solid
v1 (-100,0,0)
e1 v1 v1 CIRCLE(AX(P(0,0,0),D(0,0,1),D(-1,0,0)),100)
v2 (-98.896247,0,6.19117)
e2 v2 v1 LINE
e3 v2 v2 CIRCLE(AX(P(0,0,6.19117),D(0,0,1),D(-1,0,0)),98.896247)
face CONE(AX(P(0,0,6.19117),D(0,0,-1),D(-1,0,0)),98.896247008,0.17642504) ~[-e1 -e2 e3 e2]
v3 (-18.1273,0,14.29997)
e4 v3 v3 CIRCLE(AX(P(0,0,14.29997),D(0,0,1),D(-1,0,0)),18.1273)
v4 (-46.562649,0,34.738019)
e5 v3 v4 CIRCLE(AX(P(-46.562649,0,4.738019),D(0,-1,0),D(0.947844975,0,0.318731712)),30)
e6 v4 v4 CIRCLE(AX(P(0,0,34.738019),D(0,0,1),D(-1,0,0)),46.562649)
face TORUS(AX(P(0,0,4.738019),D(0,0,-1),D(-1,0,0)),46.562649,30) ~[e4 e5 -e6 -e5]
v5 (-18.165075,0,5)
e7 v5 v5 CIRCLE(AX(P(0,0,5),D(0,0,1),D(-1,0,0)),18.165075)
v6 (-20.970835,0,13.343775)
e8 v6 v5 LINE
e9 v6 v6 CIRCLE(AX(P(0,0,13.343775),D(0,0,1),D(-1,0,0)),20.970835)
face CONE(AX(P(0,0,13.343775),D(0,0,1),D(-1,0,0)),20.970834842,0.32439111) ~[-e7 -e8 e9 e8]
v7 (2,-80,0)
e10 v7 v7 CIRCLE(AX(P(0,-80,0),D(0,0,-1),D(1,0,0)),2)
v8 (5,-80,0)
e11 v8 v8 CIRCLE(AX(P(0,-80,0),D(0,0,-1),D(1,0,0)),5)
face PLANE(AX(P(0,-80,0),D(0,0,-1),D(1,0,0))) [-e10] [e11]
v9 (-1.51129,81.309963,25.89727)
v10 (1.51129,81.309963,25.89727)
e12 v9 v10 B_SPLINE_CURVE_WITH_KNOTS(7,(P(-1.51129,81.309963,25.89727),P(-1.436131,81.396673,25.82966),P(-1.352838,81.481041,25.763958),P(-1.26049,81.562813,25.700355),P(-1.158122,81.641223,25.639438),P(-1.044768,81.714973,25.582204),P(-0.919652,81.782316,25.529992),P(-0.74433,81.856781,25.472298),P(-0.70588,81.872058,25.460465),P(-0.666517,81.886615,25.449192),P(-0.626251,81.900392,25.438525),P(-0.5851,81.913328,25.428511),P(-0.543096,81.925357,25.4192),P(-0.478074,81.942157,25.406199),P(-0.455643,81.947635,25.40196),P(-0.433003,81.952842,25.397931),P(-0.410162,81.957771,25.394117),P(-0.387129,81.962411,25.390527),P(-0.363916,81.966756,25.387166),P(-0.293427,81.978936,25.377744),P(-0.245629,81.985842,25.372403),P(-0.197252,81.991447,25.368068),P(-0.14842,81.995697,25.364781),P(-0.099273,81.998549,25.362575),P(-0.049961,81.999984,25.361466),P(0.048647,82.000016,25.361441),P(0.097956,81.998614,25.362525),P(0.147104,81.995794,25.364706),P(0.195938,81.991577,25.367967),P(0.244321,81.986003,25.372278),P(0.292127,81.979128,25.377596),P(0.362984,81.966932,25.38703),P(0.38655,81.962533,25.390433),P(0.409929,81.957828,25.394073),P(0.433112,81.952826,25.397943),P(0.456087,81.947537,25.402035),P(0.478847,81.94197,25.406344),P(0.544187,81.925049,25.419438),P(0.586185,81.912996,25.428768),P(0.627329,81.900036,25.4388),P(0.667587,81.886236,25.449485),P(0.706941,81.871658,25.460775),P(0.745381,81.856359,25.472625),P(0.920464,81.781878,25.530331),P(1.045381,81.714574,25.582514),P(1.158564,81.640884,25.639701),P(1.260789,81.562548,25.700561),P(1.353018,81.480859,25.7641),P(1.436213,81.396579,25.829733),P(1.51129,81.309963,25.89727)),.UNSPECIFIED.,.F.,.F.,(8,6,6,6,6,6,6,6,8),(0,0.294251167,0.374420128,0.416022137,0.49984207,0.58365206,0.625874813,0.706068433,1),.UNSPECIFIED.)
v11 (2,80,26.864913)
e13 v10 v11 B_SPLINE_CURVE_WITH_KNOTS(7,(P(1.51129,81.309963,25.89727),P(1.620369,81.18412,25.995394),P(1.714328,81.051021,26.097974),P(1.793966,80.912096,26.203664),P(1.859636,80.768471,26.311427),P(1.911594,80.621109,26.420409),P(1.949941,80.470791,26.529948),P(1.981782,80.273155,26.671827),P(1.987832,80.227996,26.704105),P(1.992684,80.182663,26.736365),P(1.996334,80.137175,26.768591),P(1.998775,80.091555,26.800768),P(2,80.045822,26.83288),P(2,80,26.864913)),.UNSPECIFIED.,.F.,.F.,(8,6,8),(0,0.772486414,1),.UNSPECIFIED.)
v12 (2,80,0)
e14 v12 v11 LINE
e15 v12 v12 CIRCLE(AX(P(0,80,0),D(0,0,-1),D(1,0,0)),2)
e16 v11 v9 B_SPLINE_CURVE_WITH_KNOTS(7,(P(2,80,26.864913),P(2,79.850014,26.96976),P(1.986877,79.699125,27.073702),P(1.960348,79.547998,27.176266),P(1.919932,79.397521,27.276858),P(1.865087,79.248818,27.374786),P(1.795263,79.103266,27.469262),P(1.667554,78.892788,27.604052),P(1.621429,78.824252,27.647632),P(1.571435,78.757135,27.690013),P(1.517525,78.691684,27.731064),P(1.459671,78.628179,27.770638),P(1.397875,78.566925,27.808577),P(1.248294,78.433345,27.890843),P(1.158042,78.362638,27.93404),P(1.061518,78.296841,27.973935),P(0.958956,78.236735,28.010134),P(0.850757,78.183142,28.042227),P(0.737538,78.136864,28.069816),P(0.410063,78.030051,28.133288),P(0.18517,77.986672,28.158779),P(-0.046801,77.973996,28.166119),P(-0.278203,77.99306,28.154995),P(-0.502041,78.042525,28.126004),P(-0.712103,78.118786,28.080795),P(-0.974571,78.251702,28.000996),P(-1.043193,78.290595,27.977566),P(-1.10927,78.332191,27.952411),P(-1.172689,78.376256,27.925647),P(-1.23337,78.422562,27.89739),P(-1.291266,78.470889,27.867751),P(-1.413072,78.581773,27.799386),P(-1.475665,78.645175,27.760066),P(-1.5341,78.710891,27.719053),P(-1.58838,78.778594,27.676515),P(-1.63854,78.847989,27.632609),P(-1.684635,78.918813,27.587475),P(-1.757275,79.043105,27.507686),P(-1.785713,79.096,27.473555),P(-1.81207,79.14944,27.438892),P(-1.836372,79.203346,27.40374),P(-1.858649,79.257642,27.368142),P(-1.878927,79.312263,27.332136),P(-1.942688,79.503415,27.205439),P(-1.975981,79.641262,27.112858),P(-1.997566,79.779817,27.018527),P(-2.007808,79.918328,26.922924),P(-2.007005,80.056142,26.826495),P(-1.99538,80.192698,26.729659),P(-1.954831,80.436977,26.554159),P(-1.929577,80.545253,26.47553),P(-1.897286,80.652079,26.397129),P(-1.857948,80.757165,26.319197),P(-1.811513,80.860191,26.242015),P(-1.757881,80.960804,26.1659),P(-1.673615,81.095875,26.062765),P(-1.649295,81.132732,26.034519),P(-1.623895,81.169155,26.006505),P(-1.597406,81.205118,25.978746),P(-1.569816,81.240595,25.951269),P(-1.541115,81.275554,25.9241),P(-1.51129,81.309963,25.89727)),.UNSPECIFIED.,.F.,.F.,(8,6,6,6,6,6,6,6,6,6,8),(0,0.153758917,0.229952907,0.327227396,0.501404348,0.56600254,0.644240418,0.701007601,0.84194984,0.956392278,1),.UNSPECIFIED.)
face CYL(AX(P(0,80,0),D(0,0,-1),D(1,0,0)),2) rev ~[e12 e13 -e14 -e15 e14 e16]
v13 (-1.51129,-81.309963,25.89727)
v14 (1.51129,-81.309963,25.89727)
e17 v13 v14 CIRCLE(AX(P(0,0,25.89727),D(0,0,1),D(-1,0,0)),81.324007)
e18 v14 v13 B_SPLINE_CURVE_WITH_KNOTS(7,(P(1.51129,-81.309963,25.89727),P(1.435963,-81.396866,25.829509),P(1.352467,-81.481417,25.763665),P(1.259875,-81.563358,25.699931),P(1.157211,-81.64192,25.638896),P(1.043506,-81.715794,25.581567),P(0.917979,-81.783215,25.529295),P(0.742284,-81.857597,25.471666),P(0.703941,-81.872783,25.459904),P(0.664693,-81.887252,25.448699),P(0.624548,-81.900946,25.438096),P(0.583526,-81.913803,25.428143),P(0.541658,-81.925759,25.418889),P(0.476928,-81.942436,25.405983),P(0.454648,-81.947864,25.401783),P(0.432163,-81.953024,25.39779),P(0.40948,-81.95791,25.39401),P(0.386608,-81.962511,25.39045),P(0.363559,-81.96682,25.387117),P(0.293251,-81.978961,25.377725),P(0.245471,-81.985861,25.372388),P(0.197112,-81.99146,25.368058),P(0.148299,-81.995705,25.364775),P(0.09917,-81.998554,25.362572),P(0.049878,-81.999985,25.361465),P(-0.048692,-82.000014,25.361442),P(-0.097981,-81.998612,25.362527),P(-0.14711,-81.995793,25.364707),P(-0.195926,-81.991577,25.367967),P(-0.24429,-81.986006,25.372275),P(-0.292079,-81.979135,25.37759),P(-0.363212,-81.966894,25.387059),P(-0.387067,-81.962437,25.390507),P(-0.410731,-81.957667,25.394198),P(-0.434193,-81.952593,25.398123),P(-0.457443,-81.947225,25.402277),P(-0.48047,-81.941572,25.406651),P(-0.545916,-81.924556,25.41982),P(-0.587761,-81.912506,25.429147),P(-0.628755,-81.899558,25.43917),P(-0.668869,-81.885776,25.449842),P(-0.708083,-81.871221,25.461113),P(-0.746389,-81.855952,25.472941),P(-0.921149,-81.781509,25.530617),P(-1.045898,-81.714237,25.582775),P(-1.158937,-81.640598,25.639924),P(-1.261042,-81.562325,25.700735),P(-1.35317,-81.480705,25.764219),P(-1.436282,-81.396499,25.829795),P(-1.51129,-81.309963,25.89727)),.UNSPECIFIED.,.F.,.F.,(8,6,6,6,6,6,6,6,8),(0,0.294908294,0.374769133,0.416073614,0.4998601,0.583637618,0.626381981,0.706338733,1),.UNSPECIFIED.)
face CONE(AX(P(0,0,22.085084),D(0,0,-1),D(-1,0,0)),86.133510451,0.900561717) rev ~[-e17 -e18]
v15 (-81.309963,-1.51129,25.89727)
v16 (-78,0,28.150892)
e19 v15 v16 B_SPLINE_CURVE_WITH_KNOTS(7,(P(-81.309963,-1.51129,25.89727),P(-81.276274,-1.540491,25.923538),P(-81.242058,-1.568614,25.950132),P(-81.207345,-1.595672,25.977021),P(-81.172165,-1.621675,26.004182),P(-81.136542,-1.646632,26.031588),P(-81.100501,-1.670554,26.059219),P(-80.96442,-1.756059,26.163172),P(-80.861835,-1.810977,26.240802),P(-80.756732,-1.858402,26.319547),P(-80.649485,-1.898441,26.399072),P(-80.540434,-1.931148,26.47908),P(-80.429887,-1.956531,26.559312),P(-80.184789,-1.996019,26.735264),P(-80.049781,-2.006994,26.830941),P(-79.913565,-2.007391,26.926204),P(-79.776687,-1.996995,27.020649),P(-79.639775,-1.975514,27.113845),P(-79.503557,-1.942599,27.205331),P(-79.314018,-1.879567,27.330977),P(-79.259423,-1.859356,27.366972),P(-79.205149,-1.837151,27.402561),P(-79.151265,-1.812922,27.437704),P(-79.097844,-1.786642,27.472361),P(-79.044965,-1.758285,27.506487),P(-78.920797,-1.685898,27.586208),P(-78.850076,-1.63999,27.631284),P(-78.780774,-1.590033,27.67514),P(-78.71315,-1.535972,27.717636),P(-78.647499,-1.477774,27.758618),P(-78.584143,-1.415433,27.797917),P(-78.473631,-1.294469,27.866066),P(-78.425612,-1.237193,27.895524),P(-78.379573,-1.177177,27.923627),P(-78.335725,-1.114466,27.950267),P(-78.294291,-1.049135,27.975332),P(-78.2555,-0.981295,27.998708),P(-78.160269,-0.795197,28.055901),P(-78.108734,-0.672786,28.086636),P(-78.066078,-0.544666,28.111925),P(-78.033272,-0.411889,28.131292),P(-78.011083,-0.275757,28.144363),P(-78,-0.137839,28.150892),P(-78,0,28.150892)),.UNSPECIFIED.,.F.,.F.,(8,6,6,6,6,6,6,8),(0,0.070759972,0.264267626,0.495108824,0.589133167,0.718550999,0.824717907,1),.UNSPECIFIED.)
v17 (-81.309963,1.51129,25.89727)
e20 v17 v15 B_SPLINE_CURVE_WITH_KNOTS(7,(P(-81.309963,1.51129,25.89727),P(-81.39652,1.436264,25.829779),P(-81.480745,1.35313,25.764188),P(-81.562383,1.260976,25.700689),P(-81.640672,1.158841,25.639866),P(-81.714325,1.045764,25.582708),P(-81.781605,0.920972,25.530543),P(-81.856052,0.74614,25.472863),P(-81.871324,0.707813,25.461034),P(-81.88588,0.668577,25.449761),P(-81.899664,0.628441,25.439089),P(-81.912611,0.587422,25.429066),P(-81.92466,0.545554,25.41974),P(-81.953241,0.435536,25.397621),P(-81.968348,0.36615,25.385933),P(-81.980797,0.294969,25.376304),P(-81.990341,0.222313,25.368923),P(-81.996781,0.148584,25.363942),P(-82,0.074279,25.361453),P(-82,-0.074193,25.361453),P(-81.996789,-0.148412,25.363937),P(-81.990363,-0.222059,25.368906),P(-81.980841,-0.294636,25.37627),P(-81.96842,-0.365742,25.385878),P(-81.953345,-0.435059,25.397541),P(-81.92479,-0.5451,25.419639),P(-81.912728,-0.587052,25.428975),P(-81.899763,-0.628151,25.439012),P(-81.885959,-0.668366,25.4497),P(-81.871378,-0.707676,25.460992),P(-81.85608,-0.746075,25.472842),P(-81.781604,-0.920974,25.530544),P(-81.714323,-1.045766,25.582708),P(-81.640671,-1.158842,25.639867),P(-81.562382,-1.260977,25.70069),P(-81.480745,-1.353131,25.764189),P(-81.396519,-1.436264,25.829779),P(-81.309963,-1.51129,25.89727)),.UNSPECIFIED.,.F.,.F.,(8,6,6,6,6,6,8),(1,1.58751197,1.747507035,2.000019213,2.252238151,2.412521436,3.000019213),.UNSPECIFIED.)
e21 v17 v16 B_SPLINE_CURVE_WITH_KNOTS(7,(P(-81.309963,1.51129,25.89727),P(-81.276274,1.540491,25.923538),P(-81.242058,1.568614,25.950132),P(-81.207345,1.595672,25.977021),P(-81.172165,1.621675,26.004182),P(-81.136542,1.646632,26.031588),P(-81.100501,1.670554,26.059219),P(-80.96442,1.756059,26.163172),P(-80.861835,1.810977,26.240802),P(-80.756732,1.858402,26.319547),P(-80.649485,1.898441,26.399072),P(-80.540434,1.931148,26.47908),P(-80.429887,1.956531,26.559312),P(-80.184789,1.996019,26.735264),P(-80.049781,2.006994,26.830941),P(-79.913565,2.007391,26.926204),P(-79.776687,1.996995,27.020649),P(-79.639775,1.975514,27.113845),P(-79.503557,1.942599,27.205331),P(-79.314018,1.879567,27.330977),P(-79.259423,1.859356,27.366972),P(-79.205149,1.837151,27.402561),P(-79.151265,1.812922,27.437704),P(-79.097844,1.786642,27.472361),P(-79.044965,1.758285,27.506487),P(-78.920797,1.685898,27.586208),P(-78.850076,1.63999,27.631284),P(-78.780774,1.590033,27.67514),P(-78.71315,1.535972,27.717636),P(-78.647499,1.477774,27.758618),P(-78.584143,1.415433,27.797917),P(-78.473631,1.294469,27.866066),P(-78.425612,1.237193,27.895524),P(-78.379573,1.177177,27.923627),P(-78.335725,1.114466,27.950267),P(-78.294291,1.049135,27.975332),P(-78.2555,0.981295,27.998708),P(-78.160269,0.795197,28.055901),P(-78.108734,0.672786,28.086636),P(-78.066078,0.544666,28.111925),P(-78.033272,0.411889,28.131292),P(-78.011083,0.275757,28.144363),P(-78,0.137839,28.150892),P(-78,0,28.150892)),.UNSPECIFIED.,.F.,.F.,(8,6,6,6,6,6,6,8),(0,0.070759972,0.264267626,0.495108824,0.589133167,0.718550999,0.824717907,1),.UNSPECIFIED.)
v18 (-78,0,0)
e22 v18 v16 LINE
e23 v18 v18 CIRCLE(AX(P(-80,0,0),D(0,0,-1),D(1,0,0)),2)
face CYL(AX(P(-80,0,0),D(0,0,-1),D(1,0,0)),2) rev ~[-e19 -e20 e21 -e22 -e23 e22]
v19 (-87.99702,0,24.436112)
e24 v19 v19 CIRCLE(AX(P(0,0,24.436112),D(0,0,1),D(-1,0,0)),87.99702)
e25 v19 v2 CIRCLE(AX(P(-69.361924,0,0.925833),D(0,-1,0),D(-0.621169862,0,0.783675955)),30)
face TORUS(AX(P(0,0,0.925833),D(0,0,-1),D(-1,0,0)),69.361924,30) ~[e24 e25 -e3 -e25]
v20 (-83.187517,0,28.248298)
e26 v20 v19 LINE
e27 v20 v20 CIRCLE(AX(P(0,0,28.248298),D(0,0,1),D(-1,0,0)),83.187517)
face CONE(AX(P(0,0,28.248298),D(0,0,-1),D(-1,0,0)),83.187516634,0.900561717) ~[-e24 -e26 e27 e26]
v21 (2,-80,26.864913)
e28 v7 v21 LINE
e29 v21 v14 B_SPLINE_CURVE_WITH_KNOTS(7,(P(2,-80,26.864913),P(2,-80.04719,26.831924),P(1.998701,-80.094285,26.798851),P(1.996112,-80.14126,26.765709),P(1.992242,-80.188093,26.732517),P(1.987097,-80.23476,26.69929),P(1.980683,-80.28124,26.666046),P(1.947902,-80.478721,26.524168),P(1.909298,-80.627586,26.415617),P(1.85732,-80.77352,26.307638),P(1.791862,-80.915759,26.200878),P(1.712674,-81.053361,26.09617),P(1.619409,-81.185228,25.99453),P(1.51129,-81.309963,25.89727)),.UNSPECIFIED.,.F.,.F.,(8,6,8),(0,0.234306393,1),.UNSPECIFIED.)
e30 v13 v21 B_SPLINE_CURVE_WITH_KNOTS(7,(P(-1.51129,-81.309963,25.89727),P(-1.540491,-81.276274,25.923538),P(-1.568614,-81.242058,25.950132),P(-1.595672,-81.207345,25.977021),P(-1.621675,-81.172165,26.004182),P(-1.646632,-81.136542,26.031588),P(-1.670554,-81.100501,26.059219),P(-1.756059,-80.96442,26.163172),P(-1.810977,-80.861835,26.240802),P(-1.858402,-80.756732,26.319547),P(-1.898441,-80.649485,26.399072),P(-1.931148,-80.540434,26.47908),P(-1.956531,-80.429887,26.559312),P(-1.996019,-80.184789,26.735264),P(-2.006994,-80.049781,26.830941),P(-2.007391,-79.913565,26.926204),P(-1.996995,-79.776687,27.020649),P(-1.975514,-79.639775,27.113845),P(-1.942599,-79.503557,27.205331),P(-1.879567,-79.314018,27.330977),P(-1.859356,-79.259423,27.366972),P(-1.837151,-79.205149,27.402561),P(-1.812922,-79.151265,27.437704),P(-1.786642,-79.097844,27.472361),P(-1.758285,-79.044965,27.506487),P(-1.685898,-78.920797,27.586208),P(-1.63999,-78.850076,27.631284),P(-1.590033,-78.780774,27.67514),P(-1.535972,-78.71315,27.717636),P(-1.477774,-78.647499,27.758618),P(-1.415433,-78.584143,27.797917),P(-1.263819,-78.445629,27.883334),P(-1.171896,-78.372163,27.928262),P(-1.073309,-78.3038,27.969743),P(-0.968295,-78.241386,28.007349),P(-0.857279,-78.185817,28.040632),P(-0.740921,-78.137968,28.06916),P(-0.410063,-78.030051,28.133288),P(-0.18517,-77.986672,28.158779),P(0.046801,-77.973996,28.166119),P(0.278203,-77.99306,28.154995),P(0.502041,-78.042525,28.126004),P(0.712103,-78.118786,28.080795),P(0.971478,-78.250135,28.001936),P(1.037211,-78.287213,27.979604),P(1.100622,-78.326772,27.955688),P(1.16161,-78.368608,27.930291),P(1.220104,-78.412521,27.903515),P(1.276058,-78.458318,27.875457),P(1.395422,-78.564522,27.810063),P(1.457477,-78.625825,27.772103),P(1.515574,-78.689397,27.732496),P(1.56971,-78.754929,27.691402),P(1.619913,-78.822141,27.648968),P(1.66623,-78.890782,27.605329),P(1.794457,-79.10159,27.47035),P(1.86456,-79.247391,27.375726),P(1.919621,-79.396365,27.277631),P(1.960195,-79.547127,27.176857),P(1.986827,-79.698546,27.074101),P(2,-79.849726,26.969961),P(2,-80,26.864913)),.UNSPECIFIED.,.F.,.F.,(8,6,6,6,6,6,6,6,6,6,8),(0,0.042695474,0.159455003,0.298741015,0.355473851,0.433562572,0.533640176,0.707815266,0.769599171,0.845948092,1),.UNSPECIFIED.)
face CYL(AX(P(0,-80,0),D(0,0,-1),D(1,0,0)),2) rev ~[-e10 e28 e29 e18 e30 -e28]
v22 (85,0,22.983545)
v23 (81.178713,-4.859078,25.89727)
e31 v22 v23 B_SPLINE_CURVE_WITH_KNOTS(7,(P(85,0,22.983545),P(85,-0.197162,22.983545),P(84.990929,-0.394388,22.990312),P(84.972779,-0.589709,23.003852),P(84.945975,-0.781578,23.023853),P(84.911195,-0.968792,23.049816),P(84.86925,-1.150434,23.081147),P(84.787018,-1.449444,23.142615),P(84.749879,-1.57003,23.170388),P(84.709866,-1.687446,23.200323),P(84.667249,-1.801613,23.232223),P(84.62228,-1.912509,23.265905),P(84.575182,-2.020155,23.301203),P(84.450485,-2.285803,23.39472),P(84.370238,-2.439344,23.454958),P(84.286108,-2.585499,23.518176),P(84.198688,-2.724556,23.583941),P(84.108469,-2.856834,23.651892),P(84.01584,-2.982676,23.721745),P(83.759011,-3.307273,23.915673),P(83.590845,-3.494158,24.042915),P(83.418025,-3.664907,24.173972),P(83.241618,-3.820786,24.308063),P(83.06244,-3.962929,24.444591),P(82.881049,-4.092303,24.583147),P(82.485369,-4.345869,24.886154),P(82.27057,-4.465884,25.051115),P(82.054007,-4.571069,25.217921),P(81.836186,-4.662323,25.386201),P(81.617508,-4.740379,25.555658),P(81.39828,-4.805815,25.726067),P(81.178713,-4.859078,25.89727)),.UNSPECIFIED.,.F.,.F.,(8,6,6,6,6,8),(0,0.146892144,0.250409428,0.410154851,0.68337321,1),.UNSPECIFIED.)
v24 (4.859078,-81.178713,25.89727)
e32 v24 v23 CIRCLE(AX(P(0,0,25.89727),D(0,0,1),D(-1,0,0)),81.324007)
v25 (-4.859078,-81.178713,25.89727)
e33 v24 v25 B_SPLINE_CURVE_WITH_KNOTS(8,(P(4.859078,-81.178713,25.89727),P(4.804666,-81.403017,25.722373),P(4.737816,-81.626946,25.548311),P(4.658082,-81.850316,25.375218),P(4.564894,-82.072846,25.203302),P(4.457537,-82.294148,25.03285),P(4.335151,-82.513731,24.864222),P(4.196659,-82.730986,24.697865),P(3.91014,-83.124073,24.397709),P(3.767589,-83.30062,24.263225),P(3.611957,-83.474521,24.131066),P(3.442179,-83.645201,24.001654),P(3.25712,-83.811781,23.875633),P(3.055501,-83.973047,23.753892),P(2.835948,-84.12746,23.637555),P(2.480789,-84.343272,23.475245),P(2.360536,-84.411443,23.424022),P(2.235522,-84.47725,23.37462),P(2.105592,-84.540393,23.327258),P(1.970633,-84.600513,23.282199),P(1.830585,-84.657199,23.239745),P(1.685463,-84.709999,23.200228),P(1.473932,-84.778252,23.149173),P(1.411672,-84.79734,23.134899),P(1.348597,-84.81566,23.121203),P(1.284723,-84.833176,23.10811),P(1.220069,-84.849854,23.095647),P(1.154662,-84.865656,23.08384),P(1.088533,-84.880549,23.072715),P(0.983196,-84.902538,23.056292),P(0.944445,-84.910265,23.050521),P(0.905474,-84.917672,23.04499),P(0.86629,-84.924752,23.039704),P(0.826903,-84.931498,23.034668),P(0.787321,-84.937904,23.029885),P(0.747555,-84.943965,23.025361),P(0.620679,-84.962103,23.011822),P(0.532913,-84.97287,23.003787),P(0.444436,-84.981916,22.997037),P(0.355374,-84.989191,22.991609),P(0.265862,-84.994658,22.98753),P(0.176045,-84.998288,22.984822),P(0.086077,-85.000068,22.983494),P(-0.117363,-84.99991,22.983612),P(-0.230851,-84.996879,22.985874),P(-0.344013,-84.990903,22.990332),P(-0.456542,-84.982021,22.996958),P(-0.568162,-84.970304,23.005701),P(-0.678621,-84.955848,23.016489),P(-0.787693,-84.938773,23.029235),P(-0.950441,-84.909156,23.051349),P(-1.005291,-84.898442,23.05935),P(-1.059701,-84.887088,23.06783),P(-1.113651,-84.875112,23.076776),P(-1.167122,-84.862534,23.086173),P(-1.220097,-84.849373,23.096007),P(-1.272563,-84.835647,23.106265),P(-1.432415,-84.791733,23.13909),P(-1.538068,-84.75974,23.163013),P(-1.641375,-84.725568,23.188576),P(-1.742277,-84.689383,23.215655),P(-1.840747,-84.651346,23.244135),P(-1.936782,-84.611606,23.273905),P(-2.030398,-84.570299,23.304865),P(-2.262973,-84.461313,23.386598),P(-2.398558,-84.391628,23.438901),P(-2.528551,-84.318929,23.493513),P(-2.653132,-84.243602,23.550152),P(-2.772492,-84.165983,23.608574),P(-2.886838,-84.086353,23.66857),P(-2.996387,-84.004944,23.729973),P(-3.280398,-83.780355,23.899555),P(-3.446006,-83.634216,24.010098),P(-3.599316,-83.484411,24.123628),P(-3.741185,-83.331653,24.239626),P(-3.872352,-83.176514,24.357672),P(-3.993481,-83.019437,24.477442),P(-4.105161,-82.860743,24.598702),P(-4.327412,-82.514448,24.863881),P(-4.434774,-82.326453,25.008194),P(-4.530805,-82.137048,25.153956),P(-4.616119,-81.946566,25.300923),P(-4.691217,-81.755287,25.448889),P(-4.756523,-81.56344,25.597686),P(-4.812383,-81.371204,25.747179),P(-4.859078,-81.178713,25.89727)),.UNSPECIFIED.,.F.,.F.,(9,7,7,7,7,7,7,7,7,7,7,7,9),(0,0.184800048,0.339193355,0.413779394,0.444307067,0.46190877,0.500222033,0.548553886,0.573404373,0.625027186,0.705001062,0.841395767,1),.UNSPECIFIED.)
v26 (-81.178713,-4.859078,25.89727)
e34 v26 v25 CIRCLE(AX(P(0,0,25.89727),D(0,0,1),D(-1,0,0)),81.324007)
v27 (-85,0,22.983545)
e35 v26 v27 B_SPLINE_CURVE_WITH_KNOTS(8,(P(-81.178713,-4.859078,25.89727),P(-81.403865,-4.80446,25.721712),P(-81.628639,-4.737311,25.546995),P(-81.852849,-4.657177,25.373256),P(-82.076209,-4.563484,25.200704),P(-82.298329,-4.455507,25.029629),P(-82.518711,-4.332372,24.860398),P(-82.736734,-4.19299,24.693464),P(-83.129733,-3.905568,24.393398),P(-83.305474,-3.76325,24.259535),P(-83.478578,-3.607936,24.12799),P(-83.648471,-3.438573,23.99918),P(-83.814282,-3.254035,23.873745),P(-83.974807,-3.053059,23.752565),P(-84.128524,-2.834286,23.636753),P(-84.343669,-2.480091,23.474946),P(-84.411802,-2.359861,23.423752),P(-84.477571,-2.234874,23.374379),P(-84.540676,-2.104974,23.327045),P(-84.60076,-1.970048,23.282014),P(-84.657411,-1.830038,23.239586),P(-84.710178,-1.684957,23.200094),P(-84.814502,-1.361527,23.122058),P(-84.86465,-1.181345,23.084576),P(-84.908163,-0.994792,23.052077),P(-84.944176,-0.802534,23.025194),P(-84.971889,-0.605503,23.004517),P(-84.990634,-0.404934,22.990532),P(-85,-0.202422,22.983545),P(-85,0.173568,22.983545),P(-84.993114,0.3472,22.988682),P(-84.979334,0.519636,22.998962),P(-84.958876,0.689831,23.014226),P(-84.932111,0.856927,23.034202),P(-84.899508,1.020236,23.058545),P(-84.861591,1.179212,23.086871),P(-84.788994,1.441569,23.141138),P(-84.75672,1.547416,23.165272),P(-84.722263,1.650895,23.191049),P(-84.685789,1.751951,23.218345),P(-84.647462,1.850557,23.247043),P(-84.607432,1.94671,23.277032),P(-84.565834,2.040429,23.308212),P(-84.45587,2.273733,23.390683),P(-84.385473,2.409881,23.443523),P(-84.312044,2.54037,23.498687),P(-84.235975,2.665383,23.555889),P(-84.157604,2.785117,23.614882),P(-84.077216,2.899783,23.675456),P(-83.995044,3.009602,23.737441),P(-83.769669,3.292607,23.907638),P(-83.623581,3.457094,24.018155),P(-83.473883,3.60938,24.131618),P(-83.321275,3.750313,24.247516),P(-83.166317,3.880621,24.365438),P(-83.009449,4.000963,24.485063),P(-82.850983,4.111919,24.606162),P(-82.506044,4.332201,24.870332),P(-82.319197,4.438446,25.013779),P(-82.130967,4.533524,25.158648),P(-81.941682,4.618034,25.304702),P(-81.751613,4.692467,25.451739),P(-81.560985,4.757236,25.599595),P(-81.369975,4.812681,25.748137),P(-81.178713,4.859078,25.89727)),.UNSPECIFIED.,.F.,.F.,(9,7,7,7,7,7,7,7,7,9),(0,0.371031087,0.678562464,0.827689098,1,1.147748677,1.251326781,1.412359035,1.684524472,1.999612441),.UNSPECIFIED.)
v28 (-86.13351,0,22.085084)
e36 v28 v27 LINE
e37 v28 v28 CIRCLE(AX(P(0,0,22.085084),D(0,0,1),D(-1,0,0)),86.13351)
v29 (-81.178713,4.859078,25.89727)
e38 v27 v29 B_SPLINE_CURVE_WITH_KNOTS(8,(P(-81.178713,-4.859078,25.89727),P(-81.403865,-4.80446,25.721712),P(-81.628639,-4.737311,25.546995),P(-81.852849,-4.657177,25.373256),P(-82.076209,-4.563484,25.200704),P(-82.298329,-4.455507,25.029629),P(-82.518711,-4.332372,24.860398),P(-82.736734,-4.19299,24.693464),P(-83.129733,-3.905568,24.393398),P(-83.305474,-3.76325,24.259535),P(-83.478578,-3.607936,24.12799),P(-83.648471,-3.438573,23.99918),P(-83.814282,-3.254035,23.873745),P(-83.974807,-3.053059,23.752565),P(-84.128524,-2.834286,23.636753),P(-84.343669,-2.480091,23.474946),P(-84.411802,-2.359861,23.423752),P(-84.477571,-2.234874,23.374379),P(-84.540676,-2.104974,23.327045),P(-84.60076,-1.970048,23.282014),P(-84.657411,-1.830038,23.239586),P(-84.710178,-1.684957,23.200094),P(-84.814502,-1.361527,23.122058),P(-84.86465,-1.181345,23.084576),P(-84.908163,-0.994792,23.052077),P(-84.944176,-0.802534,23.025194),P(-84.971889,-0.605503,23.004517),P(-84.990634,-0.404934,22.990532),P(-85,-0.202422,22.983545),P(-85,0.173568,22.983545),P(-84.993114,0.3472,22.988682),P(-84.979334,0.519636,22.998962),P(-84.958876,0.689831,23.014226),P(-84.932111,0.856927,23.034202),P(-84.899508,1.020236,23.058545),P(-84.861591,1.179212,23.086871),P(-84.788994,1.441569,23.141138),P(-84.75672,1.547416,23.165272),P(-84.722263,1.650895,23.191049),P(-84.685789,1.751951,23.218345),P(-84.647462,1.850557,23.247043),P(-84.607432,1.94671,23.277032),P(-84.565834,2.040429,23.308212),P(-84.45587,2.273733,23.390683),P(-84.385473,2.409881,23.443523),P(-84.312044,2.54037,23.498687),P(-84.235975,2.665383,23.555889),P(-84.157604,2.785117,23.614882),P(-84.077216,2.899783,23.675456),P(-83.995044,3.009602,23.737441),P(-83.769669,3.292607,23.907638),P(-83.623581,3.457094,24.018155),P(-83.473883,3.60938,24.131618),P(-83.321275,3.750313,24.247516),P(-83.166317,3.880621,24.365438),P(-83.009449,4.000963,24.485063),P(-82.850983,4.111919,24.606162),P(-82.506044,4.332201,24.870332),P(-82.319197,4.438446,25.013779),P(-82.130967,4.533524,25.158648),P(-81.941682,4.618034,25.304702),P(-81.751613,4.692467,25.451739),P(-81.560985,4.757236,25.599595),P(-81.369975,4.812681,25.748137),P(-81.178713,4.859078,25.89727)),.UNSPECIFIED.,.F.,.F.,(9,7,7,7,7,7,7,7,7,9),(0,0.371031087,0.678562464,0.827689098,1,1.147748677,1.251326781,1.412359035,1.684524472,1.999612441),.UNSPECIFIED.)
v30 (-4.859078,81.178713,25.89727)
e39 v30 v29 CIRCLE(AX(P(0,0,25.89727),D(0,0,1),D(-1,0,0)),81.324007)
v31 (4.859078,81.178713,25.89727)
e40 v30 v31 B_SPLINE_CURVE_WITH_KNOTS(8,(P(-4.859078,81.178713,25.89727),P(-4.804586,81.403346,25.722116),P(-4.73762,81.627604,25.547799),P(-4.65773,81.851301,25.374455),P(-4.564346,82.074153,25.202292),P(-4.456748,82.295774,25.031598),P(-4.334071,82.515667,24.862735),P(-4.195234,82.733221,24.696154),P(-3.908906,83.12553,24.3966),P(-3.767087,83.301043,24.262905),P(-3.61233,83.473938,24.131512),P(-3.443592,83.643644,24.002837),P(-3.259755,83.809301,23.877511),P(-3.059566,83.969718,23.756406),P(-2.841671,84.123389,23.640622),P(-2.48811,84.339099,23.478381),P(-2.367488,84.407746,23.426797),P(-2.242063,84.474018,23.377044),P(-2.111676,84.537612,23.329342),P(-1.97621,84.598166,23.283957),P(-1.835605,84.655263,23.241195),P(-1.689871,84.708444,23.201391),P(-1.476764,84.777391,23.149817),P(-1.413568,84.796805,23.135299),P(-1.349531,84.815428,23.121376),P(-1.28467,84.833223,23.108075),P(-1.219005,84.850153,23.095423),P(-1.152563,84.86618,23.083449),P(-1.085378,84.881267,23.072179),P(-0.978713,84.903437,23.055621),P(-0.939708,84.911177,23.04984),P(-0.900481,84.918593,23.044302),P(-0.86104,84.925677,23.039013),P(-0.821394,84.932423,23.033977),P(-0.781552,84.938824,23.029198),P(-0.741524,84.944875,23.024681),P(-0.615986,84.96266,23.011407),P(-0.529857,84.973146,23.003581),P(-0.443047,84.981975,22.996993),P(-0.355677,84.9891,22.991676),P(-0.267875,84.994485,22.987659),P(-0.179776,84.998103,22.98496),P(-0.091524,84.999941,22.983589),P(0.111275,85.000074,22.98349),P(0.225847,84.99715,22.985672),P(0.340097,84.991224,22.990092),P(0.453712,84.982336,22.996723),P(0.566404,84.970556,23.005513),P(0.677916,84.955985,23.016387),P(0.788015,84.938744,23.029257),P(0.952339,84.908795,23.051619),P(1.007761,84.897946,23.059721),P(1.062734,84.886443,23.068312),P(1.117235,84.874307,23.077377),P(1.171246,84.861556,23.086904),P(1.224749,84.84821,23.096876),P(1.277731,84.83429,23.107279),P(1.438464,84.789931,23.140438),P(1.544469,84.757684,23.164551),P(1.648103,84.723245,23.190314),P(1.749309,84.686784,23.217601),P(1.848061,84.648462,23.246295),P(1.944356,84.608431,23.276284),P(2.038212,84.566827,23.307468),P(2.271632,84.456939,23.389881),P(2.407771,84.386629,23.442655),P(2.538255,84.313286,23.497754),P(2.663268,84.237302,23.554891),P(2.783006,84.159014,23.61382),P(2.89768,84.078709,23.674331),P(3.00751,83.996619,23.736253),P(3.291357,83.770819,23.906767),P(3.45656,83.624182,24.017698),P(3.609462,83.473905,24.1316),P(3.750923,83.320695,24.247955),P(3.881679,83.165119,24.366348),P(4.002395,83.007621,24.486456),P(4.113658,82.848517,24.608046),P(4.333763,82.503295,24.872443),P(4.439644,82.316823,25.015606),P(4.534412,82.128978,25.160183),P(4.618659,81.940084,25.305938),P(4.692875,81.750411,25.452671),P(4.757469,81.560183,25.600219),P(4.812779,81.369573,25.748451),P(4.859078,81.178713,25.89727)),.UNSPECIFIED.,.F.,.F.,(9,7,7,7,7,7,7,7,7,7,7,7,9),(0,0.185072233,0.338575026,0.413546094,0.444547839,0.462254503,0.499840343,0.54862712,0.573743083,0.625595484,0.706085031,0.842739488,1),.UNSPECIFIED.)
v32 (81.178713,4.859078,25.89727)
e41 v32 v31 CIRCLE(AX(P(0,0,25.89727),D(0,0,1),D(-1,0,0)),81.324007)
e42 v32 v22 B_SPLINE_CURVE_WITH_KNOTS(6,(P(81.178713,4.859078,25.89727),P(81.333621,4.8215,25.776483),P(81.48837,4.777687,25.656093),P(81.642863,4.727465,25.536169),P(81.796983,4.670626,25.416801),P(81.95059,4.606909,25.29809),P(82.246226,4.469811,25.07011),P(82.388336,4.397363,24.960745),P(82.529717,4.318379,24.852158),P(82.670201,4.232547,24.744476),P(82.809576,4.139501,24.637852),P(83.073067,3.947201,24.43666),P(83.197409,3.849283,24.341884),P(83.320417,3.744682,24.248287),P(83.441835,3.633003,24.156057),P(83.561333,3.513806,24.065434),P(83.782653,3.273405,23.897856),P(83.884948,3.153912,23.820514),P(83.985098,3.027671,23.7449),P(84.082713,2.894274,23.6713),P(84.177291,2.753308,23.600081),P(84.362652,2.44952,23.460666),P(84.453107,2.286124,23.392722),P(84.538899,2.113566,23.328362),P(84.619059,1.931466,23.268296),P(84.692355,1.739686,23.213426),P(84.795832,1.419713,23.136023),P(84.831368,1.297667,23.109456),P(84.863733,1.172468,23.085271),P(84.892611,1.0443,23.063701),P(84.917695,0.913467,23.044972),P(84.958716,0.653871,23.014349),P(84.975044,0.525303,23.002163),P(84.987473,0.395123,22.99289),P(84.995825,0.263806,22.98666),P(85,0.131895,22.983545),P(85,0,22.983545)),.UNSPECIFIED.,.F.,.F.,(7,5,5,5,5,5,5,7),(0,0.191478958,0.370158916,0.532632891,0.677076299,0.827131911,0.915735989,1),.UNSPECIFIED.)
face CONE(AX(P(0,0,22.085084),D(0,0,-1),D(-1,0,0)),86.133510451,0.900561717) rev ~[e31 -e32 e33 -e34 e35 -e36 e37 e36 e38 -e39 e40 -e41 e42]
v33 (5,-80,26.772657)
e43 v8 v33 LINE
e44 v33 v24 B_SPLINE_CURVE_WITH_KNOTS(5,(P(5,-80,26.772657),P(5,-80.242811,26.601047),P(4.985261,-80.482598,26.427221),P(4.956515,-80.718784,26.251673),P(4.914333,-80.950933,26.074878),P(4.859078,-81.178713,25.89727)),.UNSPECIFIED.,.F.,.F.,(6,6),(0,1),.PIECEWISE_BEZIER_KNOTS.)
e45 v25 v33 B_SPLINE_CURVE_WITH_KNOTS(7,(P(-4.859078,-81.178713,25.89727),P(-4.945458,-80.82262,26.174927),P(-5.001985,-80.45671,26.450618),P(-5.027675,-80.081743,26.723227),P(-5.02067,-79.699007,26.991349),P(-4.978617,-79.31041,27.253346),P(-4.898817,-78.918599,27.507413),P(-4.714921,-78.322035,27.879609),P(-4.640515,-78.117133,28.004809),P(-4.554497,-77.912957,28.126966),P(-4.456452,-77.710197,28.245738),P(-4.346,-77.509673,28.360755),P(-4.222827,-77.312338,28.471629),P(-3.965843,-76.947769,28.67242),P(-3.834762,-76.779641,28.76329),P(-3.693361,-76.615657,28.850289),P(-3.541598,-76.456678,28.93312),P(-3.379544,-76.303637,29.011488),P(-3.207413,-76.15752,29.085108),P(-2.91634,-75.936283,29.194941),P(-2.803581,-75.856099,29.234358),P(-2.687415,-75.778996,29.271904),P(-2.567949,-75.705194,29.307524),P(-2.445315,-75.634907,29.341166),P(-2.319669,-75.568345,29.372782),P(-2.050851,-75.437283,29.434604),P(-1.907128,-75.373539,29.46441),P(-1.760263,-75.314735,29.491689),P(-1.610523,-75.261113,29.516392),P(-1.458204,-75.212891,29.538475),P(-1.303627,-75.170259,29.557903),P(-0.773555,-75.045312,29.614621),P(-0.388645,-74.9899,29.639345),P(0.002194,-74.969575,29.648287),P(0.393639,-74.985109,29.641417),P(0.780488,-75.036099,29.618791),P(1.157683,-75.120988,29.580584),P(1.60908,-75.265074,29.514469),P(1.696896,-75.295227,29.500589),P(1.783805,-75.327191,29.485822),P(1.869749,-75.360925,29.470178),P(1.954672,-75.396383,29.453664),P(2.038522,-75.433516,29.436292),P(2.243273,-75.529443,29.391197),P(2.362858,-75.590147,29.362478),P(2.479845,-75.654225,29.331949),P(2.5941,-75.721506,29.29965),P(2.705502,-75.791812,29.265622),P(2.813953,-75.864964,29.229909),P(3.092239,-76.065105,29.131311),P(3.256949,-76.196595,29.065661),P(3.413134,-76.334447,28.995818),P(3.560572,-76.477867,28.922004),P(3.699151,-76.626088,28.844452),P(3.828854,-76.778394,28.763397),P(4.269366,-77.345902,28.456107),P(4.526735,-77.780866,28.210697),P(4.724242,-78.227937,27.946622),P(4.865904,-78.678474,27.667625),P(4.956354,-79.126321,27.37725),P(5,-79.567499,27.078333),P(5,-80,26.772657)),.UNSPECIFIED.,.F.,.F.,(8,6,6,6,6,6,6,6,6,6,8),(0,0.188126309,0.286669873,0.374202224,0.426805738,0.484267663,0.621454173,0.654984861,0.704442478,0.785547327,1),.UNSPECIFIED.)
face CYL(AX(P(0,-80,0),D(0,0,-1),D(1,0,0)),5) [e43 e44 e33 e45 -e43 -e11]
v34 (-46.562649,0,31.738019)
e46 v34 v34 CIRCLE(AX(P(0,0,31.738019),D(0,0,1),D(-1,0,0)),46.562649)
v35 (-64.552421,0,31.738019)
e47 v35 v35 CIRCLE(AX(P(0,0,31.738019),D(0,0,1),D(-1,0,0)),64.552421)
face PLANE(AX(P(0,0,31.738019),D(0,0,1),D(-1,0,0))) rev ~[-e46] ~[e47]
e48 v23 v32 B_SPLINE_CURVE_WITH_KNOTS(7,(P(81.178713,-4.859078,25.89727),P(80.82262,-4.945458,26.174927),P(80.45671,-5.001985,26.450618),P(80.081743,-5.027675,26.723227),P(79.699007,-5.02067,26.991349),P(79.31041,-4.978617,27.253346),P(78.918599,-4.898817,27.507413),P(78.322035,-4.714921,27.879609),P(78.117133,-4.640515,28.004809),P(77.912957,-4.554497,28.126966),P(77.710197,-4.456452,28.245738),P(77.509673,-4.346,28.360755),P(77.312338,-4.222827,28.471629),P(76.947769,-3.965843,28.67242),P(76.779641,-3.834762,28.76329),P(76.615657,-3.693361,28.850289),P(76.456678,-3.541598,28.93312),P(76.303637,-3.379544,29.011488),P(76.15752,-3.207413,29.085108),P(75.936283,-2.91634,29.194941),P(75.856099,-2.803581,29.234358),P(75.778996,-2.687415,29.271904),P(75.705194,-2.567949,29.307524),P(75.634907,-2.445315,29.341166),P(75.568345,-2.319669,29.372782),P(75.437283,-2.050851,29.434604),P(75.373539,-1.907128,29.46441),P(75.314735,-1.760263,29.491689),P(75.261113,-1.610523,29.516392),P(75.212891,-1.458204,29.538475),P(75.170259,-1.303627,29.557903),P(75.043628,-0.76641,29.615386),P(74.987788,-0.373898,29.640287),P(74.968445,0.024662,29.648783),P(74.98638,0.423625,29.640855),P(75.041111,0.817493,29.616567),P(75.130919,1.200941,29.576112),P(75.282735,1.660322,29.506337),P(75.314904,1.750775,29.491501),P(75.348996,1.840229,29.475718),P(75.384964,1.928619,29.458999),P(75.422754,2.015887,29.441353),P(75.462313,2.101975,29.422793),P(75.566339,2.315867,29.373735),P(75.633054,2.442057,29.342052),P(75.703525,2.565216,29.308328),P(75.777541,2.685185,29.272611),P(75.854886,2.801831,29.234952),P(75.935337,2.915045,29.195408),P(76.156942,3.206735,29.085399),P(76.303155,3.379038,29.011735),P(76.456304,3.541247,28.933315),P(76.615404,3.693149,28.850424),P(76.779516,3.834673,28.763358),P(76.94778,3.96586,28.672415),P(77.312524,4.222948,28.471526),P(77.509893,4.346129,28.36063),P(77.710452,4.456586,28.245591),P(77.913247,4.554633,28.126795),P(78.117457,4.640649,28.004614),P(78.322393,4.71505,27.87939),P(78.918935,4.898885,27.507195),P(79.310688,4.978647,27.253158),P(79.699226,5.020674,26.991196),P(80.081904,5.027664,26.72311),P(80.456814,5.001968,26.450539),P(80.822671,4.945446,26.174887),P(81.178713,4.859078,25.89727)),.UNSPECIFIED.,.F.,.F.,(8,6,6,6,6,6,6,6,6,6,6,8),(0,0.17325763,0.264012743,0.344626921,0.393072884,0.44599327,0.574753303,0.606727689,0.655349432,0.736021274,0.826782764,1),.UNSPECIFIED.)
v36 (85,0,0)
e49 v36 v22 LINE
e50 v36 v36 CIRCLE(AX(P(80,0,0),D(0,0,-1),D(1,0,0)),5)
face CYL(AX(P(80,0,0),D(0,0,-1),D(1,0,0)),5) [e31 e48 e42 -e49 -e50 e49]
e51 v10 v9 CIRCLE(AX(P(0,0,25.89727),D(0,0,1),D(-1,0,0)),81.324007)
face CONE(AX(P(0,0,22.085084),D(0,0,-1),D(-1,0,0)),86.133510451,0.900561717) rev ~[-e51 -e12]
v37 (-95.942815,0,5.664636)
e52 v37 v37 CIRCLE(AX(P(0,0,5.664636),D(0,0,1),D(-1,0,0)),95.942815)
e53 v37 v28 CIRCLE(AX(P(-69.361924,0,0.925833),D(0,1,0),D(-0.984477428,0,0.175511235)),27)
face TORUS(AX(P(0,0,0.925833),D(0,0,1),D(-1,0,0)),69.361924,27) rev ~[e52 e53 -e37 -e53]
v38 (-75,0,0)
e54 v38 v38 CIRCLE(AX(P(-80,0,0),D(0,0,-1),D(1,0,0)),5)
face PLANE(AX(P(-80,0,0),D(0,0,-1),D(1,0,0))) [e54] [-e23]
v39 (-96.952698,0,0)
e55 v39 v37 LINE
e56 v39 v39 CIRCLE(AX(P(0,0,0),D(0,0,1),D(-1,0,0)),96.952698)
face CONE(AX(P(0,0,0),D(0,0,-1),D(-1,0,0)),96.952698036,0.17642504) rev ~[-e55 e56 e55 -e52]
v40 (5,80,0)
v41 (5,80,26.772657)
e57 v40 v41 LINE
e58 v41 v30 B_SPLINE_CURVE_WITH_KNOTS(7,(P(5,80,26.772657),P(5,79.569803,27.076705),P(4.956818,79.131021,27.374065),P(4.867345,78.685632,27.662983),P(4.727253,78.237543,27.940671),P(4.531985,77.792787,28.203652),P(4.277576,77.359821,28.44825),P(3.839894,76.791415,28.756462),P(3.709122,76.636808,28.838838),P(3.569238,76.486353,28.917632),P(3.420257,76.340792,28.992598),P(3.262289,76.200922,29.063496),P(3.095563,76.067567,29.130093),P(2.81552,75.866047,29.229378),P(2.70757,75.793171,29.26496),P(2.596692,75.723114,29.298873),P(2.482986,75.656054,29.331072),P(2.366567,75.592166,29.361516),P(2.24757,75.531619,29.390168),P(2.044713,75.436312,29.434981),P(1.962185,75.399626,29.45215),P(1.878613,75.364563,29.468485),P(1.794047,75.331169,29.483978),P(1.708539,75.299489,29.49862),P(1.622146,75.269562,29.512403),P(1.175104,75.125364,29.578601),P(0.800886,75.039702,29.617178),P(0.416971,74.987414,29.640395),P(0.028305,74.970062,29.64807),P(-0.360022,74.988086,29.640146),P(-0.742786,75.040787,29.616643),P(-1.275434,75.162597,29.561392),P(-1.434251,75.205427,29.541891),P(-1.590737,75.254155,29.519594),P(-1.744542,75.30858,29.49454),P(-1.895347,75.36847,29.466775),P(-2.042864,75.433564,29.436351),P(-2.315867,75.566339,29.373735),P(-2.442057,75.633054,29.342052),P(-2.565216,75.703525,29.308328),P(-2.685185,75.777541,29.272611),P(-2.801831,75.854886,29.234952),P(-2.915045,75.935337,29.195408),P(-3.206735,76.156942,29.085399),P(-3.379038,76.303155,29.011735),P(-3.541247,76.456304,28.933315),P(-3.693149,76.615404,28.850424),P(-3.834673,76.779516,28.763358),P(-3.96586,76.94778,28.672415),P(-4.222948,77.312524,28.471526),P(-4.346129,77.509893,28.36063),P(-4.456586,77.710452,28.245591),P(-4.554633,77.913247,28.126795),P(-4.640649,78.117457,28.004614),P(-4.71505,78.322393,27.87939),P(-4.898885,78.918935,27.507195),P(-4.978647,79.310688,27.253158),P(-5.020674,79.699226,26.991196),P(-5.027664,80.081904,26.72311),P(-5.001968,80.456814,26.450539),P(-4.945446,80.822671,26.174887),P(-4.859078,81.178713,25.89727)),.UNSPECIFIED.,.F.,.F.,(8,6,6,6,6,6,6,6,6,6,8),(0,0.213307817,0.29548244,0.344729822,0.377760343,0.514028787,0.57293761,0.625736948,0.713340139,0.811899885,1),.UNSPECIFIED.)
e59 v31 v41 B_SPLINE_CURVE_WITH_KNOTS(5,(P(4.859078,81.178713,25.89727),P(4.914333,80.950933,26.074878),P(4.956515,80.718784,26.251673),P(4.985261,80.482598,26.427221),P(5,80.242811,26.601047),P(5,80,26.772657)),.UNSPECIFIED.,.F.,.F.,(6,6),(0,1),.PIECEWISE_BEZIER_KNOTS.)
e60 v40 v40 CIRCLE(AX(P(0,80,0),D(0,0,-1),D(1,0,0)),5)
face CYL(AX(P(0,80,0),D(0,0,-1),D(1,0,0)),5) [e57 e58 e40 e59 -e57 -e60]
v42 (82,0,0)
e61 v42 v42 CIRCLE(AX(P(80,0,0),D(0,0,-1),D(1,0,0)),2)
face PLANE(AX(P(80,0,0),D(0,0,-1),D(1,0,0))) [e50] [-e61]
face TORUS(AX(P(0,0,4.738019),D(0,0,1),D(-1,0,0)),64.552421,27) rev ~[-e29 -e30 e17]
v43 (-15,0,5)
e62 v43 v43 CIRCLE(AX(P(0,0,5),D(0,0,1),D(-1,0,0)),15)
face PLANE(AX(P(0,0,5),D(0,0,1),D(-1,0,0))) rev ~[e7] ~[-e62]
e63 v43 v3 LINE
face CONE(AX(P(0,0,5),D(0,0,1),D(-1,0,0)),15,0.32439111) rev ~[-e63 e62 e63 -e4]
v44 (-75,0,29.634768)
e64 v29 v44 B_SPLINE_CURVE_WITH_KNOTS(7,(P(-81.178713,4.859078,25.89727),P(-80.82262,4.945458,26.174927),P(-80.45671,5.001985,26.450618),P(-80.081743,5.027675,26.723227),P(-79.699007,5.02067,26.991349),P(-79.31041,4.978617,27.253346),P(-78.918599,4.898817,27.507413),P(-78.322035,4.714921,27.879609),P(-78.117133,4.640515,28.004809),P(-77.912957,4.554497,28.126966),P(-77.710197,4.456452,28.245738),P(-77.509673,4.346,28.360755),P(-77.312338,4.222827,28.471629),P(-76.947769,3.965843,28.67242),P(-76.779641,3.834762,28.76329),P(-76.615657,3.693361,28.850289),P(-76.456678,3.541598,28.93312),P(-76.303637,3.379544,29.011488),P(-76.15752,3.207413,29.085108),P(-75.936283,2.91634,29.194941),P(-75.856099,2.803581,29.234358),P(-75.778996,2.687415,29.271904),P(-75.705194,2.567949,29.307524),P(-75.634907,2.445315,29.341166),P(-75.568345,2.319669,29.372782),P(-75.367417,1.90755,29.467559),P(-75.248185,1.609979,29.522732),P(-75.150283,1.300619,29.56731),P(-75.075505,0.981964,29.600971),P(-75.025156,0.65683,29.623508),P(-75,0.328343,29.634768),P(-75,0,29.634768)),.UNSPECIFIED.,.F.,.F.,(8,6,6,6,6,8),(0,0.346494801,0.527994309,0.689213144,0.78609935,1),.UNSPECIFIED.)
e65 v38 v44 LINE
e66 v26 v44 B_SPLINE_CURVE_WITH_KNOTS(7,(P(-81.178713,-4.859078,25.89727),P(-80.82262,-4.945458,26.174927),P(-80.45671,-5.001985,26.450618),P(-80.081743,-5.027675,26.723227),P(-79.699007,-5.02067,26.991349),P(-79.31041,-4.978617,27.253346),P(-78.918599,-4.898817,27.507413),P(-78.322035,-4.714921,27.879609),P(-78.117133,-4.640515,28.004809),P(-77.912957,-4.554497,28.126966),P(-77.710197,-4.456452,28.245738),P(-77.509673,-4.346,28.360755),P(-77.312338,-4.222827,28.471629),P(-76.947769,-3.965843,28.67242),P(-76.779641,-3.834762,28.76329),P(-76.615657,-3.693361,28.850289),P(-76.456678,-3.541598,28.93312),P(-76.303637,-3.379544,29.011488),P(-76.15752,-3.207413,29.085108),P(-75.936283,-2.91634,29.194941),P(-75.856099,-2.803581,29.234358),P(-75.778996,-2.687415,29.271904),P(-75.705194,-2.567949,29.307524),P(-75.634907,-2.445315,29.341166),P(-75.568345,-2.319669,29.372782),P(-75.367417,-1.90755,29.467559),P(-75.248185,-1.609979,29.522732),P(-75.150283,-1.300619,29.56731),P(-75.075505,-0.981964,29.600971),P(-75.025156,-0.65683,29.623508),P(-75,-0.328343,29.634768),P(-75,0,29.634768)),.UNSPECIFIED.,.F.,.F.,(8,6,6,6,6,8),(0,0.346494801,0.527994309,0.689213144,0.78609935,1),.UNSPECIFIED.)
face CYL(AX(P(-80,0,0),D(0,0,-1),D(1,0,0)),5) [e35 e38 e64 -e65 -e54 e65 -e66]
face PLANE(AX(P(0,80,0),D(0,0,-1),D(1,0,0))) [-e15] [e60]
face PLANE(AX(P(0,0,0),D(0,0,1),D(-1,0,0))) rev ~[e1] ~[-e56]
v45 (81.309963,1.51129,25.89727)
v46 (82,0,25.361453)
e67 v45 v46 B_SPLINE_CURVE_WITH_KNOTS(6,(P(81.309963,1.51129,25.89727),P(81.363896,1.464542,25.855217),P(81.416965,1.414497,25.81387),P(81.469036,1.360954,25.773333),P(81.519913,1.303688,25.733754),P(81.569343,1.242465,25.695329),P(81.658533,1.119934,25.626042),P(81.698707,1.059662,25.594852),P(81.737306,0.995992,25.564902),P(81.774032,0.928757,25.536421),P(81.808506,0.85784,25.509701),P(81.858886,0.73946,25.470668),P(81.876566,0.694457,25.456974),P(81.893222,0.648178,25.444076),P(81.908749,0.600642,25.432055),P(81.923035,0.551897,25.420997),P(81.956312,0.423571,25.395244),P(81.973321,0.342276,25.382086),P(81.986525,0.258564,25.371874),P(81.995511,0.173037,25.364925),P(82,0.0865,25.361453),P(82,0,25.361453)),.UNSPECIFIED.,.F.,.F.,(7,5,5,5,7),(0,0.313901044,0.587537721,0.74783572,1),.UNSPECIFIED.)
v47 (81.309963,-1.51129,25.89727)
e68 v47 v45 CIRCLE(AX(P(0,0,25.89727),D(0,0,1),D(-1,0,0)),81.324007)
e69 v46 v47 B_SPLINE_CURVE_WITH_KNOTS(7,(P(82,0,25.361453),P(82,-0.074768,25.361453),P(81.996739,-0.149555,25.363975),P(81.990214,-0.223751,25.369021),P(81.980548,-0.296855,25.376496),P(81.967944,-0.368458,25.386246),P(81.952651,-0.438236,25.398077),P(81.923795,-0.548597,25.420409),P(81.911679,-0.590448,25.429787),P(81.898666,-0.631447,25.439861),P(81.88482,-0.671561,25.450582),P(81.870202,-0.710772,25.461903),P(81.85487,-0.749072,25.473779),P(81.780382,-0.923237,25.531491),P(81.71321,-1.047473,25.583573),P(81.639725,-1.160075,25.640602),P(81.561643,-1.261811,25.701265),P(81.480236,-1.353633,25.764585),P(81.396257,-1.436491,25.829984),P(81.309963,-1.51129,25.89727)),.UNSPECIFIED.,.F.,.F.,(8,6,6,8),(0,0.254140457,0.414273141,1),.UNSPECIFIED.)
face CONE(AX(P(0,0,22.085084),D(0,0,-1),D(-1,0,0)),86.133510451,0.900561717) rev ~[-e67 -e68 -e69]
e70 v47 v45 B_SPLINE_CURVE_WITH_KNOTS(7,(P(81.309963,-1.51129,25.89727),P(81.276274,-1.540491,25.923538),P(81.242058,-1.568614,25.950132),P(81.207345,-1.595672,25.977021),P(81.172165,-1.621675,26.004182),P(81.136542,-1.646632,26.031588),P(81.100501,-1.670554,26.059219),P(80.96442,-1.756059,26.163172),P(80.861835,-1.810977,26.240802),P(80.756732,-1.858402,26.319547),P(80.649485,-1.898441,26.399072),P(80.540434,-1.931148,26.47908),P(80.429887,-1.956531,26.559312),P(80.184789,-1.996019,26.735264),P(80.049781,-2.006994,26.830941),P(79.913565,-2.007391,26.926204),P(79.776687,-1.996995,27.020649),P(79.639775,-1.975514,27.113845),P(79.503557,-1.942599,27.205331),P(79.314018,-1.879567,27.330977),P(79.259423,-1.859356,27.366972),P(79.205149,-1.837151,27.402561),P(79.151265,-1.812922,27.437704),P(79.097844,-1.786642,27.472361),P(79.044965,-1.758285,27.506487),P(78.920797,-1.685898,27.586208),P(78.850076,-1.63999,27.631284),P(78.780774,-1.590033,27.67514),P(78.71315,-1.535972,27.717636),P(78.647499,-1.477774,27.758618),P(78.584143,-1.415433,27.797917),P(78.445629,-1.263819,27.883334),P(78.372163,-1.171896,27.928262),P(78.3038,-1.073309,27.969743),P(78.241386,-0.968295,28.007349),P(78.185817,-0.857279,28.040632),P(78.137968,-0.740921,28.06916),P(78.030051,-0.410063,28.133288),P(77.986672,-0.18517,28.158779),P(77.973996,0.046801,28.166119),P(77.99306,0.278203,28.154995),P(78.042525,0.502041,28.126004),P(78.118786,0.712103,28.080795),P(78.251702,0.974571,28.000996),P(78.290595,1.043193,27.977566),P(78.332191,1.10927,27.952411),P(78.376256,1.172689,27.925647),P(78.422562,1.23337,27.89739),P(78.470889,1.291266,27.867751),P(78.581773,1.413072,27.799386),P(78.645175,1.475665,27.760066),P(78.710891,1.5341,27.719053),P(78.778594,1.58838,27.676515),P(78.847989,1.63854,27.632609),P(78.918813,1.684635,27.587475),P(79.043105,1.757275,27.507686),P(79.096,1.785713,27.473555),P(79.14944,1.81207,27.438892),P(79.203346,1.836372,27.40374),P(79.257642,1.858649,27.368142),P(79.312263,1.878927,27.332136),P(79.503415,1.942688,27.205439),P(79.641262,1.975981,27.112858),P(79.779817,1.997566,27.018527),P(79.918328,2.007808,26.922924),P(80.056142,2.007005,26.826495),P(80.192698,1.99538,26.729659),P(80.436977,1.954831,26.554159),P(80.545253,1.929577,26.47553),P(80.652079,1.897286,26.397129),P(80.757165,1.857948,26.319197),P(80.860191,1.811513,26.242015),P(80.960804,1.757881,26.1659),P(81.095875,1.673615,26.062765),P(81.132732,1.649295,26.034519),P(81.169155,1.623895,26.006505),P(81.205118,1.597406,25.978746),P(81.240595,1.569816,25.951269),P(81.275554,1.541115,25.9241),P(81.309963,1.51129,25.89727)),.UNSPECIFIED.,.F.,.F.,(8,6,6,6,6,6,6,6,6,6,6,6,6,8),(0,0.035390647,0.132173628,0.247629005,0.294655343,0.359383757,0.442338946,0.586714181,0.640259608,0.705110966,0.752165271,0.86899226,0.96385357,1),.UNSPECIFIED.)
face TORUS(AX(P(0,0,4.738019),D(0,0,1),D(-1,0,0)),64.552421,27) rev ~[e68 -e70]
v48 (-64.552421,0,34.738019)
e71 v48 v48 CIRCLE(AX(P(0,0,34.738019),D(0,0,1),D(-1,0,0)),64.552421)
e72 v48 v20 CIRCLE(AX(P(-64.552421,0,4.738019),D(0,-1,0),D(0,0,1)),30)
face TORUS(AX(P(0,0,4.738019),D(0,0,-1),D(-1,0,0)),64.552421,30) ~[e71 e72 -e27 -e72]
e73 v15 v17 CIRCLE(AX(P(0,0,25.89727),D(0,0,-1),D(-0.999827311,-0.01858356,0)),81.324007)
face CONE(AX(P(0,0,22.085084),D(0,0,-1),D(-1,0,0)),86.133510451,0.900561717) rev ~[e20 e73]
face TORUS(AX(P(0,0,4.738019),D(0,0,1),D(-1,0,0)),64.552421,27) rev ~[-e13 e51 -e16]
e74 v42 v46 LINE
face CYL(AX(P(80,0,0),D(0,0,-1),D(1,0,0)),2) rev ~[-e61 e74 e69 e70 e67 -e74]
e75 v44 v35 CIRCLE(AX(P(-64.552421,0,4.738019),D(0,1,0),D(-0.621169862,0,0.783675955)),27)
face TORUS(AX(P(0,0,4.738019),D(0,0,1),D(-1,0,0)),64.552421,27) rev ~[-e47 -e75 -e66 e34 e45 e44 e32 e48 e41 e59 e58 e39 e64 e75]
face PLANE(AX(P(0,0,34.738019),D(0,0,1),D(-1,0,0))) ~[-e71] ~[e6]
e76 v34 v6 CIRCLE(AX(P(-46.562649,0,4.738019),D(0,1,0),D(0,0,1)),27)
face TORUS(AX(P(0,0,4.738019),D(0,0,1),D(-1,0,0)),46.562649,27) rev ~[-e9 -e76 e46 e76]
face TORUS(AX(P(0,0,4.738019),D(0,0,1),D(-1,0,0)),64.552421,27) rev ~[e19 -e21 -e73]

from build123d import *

# Parameters (mm, degrees)
F2_R   = 5
F2_R_2 = 2


with BuildPart() as f1:
    # F0 (on Front) → F1 (revolve)
    with BuildSketch(Plane.XZ):
        with BuildLine():
            Line((-46.5626491532, 34.7380191088), (-64.5524207617, 34.7380191088))
            ThreePointArc((-64.5524207617, 34.7380191088), (-74.4188193129, 33.0691712144), (-83.1875166342, 28.2482977508))
            Line((-83.1875166342, 28.2482977508), (-87.9970200386, 24.436111668))
            ThreePointArc((-87.9970200386, 24.436111668), (-95.1163936469, 16.3111280107), (-98.8962470082, 6.1911700773))
            Line((-98.8962470082, 6.1911700773), (-100, 0))
            Line((-100, 0), (-96.9526980361, 0))
            Line((-96.9526980361, 0), (-95.942814724, 5.6646363721))
            ThreePointArc((-95.942814724, 5.6646363721), (-92.5409466988, 14.7725985122), (-86.1335104514, 22.0850838038))
            Line((-86.1335104514, 22.0850838038), (-81.324007047, 25.8972698866))
            ThreePointArc((-81.324007047, 25.8972698866), (-73.4321794578, 30.2360560038), (-64.5524207617, 31.7380191088))
            Line((-64.5524207617, 31.7380191088), (-46.5626491532, 31.7380191088))
            ThreePointArc((-46.5626491532, 31.7380191088), (-30.80440398, 26.6623824761), (-20.9708348415, 13.3437753355))
            Line((-20.9708348415, 13.3437753355), (-18.1650745435, 5))
            Line((-18.1650745435, 5), (-15, 5))
            Line((-15, 5), (-18.1272999179, 14.2999704719))
            ThreePointArc((-18.1272999179, 14.2999704719), (-29.0534878496, 29.0984228502), (-46.5626491532, 34.7380191088))
        make_face()
    revolve(axis=Axis((0, 0, 26.7854109406), (0, 0, 1)))

    # F2 (on face) → F3 (join, up to the next surface of F1)
    with BuildSketch(Plane(origin=(0, 0, 0), x_dir=(1, 0, 0), z_dir=(0, 0, -1))):
        with Locations((80, 0)):
            Circle(F2_R)
        with Locations((80, 0)):
            Circle(F2_R_2, mode=Mode.SUBTRACT)
        with Locations((0, 80)):
            Circle(F2_R)
        with Locations((0, 80)):
            Circle(F2_R_2, mode=Mode.SUBTRACT)
        with Locations((-80, 0)):
            Circle(F2_R)
        with Locations((-80, 0)):
            Circle(F2_R_2, mode=Mode.SUBTRACT)
        with Locations((0, -80)):
            Circle(F2_R)
        with Locations((0, -80)):
            Circle(F2_R_2, mode=Mode.SUBTRACT)
    extrude(until=Until.NEXT, dir=(0, 0, 1))


solid = f1.part
